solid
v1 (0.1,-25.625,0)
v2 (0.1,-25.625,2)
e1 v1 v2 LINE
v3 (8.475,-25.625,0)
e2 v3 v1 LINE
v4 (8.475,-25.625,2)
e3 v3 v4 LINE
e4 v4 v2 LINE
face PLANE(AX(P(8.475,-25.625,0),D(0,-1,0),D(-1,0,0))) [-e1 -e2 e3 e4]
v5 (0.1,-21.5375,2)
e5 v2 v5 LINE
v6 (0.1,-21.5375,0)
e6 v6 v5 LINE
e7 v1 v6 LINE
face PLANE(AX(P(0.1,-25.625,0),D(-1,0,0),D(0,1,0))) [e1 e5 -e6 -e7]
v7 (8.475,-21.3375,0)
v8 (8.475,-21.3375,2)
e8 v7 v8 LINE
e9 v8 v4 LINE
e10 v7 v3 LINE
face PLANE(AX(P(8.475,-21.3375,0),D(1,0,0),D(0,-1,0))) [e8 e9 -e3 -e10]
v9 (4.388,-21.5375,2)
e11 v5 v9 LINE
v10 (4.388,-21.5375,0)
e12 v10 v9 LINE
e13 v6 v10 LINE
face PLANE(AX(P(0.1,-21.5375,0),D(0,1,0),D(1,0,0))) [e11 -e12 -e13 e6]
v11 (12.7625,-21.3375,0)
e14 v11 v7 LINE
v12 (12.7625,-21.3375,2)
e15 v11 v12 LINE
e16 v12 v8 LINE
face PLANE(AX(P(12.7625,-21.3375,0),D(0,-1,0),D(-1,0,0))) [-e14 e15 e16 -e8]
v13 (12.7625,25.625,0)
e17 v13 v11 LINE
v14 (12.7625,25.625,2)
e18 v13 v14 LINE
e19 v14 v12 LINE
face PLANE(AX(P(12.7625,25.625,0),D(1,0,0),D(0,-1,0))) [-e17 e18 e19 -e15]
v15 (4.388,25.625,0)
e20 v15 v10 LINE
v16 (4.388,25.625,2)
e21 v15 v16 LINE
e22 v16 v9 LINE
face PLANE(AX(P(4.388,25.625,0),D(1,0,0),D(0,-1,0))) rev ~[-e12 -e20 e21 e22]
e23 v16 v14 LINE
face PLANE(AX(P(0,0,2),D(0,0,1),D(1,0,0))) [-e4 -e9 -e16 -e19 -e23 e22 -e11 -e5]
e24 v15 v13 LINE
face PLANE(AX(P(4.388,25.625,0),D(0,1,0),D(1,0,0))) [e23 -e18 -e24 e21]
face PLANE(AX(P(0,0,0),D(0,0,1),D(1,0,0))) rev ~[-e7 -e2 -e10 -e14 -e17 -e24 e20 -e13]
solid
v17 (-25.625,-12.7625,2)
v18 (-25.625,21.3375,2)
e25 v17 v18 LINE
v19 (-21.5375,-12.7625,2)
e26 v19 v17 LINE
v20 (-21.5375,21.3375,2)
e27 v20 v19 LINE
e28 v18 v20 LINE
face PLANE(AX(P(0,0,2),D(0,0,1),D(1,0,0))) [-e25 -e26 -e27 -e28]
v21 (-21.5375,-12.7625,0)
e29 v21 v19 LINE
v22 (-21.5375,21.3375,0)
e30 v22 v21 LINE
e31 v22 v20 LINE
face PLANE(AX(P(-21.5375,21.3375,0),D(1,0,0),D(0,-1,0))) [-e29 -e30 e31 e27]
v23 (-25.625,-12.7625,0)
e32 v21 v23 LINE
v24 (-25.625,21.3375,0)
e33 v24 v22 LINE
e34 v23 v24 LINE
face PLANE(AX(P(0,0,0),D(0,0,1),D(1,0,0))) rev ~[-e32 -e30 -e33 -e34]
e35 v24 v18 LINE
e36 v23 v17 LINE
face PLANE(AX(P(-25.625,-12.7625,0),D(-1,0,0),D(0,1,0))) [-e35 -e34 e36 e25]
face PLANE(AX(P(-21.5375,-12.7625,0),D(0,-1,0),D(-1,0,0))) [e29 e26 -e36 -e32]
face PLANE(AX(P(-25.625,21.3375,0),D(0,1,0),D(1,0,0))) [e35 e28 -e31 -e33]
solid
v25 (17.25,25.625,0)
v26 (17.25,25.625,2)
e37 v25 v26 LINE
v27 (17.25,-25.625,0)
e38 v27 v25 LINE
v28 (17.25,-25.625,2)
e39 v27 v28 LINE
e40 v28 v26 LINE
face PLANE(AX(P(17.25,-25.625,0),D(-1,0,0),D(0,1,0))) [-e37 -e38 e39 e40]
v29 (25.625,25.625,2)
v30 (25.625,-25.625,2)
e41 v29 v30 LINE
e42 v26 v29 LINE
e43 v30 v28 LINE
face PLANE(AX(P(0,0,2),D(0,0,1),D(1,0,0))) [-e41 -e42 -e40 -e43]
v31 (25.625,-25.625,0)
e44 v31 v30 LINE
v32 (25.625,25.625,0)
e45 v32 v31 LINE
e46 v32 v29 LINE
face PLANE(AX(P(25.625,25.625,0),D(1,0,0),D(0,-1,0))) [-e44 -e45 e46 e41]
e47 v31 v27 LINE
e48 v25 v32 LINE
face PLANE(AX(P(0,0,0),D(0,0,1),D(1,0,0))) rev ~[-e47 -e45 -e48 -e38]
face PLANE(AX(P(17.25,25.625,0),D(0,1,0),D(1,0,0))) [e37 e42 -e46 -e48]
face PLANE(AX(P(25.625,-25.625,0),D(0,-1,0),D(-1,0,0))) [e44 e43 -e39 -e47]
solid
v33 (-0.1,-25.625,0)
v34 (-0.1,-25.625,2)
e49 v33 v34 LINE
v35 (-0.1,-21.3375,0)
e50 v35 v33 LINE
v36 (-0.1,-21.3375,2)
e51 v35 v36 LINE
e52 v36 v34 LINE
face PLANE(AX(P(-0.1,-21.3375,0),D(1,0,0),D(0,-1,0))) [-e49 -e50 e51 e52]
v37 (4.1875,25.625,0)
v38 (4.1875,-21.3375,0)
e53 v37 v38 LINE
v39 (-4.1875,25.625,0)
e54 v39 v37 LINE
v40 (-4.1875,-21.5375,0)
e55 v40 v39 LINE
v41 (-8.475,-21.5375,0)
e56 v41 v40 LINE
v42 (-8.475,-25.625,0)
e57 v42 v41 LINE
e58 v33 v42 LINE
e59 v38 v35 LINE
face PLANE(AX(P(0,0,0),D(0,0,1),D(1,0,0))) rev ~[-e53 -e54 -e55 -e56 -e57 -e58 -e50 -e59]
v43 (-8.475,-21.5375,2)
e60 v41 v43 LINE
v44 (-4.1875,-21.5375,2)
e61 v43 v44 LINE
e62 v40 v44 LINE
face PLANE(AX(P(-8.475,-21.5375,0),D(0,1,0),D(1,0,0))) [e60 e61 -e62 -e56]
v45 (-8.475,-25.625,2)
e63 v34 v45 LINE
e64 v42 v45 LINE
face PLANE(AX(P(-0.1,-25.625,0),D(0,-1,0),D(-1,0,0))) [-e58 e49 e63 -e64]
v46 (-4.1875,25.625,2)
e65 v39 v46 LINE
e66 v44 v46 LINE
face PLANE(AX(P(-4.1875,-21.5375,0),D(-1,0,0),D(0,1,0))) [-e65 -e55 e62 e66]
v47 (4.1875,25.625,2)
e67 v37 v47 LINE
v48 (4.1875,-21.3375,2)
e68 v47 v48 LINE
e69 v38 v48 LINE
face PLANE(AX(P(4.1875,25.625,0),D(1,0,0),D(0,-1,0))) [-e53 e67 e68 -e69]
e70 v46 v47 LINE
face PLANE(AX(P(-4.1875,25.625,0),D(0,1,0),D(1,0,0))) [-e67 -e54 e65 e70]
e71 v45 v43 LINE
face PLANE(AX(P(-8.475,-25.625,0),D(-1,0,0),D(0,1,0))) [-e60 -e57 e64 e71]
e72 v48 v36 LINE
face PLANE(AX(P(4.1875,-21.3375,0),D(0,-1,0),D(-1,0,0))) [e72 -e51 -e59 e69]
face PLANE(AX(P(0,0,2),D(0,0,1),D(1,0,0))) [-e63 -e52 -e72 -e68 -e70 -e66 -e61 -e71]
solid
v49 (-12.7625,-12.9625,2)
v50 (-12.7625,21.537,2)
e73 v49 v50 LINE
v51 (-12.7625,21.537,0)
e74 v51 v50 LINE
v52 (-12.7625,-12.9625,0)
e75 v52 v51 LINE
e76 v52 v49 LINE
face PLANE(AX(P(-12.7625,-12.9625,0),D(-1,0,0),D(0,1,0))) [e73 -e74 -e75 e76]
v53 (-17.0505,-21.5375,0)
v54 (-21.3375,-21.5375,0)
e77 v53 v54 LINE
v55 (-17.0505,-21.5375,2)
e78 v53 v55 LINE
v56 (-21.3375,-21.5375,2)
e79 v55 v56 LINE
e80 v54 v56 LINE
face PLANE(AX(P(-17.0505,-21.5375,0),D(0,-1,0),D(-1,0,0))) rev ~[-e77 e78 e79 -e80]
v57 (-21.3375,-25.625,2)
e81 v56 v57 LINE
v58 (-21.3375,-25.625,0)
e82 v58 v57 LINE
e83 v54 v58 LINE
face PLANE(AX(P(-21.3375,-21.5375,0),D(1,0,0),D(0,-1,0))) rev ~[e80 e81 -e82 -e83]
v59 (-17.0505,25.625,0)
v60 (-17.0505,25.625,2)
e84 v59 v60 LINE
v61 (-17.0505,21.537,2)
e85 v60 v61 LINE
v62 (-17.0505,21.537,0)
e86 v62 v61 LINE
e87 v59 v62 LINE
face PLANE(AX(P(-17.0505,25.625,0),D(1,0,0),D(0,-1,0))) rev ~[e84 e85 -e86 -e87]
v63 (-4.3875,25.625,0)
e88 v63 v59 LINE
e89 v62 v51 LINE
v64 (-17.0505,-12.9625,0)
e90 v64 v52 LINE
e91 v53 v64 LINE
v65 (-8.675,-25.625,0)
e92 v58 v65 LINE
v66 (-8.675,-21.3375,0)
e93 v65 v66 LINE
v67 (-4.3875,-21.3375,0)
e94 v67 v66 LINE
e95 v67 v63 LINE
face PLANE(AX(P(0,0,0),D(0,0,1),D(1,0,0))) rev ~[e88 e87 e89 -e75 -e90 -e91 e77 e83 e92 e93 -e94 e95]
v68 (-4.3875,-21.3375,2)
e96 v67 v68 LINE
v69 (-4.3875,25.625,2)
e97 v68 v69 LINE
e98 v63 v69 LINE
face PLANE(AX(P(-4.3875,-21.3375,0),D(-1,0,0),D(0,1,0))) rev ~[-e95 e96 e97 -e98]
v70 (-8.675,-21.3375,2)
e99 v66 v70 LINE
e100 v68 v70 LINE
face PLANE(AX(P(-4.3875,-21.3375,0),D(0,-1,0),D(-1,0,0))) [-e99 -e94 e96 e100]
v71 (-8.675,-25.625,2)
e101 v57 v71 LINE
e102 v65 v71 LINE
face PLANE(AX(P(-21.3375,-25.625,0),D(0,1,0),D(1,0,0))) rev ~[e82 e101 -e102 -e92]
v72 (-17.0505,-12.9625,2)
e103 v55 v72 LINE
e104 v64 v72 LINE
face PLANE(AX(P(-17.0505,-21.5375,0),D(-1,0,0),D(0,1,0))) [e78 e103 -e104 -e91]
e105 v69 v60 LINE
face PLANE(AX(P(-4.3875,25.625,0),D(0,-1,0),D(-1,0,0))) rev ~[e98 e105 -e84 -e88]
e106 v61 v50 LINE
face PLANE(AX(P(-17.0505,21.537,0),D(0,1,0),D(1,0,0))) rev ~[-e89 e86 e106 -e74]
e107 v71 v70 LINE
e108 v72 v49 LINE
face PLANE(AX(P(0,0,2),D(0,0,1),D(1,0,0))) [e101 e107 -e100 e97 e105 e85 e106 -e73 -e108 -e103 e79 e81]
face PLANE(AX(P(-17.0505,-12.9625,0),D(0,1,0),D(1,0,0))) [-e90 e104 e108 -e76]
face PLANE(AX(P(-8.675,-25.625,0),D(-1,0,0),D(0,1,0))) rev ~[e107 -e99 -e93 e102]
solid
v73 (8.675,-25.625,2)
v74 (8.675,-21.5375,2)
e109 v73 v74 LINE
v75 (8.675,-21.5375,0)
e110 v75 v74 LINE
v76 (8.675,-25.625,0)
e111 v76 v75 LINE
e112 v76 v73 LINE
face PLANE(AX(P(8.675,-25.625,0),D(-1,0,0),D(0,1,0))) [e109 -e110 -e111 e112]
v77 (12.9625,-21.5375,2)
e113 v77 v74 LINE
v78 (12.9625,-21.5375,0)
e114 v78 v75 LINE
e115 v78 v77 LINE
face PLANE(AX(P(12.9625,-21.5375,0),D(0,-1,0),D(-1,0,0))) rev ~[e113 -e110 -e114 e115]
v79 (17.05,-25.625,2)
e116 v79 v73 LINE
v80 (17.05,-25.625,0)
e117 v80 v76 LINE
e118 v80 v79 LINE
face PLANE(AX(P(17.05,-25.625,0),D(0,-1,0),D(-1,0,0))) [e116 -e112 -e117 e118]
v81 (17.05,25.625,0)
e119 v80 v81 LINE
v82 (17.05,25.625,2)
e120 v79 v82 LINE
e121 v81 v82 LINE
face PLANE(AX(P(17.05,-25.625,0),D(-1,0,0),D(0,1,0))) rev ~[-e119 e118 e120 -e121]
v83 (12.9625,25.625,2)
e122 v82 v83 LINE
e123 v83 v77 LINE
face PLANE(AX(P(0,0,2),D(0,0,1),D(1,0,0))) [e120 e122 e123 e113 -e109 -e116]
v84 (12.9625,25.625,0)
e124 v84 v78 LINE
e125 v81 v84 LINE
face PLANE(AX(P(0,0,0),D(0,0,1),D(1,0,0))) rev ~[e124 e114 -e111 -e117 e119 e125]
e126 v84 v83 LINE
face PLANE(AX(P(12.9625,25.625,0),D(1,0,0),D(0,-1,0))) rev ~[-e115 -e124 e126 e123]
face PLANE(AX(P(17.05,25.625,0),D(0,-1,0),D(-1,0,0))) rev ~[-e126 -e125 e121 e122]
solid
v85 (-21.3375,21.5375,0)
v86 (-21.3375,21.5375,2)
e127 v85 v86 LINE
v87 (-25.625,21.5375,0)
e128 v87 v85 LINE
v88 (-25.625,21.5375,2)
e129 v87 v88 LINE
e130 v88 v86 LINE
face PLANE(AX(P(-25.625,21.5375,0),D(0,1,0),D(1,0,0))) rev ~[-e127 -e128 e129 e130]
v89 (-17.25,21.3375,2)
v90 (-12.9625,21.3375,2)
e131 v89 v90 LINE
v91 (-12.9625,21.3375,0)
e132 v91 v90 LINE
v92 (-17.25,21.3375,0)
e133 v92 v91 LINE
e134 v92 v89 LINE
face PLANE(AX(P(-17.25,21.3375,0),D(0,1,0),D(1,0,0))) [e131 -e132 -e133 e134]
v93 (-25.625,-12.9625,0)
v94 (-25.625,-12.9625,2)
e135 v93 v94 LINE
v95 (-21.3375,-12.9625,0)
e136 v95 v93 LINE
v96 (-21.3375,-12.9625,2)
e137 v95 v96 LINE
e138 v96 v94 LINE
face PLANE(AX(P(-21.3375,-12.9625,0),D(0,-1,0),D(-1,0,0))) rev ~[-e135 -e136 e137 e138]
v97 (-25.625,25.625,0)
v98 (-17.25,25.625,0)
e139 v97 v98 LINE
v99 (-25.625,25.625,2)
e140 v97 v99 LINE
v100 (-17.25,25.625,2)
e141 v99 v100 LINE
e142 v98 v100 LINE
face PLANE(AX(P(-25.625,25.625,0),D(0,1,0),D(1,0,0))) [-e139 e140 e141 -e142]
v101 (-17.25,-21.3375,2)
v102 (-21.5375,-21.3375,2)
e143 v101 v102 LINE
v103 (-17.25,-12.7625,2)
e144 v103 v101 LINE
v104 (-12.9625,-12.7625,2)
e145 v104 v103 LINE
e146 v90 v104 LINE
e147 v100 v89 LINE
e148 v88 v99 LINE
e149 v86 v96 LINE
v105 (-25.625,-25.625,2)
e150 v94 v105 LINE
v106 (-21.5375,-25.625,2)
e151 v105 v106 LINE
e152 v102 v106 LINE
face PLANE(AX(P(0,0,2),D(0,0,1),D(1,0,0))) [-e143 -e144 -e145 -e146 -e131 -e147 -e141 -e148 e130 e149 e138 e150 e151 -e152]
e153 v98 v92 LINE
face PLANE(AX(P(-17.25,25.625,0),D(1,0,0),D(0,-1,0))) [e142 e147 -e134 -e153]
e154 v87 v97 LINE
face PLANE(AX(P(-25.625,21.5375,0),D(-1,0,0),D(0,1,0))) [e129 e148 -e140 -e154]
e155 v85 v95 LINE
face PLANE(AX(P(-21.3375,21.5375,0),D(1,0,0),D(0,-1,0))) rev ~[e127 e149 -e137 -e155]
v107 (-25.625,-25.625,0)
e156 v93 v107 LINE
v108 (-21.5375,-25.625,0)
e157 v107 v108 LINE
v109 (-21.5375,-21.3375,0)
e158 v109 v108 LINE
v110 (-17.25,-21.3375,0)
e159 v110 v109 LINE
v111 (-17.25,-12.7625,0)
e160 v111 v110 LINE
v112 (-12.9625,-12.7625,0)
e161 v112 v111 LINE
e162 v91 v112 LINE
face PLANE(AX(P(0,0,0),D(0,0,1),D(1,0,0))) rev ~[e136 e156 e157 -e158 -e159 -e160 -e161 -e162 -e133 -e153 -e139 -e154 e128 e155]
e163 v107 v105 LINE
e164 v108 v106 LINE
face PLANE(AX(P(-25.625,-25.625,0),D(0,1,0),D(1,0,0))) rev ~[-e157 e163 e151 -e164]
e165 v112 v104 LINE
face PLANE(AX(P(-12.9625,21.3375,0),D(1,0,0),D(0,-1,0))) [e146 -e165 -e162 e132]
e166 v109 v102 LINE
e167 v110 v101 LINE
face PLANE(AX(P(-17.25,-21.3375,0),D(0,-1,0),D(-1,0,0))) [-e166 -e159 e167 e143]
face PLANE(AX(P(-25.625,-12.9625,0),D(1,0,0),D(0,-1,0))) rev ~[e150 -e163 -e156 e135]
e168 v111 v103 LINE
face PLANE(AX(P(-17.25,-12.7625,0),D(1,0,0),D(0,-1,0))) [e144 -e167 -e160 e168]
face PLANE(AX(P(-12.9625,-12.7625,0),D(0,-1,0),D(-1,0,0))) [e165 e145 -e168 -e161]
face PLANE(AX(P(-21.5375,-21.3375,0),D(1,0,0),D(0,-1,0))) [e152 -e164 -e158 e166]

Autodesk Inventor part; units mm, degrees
ref_plane "YZ Plane" through (0, 0, 0) normal (1, 0, 0) x (0, 1, 0)
ref_plane "XZ Plane" through (0, 0, 0) normal (0, 1, 0) x (-1, 0, 0)
sketch "construction_sketch" plane through (0, 0, 0) normal (0, 0, 1) x (1, 0, 0)
  line L0 (25.725, 25.725) -> (-25.725, 25.725) construction
  line L1 (-25.725, 25.725) -> (-25.725, -25.725) construction
  line L2 (-25.725, -25.725) -> (25.725, -25.725) construction
  line L3 (25.725, -25.725) -> (25.725, 25.725) construction
  line L4 (25.725, -25.725) -> (17.15, -25.725) construction
  line L5 (17.15, -25.725) -> (17.15, 25.725) construction
  line L6 (17.15, 25.725) -> (25.725, 25.725) construction
  line L7 (25.725, 25.725) -> (25.725, -25.725) construction
  line L8 (17.15, 25.725) -> (12.8625, 25.725) construction
  line L9 (12.8625, 25.725) -> (12.8625, -21.4375) construction
  line L10 (17.15, -25.725) -> (17.15, 25.725) construction
  line L11 (17.15, -25.725) -> (8.575, -25.725) construction
  line L12 (8.575, -25.725) -> (8.575, -21.4375) construction
  line L13 (8.575, -21.4375) -> (12.8625, -21.4375) construction
  line L14 (12.8625, 25.725) -> (4.2875, 25.725) construction
  line L15 (4.2875, 25.725) -> (4.2875, -21.4375) construction
  line L16 (8.575, -21.4375) -> (12.8625, -21.4375) construction
  line L17 (12.8625, -21.4375) -> (12.8625, 25.725) construction
  line L18 (8.575, -25.725) -> (0, -25.725) construction
  line L19 (0, -25.725) -> (0, -21.4375) construction
  line L20 (0, -21.4375) -> (4.2875, -21.4375) construction
  line L21 (8.575, -21.4375) -> (8.575, -25.725) construction
  line L22 (4.2875, 25.725) -> (4.2875, -21.4375) construction
  line L23 (0, -25.725) -> (0, -21.4375) construction
  line L24 (0, -21.4375) -> (4.2875, -21.4375) construction
  line L25 (4.2875, 25.725) -> (-4.2875, 25.725) construction
  line L26 (-4.2875, 25.725) -> (-4.2875, -21.4375) construction
  line L27 (0, -21.4375) -> (4.2875, -21.4375) construction
  line L28 (4.2875, -21.4375) -> (4.2875, 25.725) construction
  line L29 (0, -25.725) -> (-8.575, -25.725) construction
  line L30 (-8.575, -25.725) -> (-8.575, -21.4375) construction
  line L31 (-8.575, -21.4375) -> (-4.2875, -21.4375) construction
  line L32 (0, -21.4375) -> (0, -25.725) construction
  line L33 (-4.2875, 25.725) -> (-17.15, 25.725) construction
  line L34 (-17.15, 25.725) -> (-17.15, 21.4375) construction
  line L35 (-17.15, 21.4375) -> (-12.8625, 21.4375) construction
  line L36 (-4.2875, 21.4375) -> (-4.2875, 25.725) construction
  line L37 (-4.2875, -21.4375) -> (-8.575, -21.4375) construction
  line L38 (-17.15, -21.4375) -> (-17.15, -12.8625) construction
  line L39 (-17.15, -12.8625) -> (-12.8625, -12.8625) construction
  line L40 (-4.2875, -12.8625) -> (-4.2875, -21.4375) construction
  line L41 (-12.8625, -12.8625) -> (-12.8625, 21.4375) construction
  line L42 (-4.2875, 21.4375) -> (-4.2875, -12.8625) construction
  line L43 (-17.15, -21.4375) -> (-21.4375, -21.4375) construction
  line L44 (-21.4375, -21.4375) -> (-21.4375, -25.725) construction
  line L45 (-21.4375, -25.725) -> (-8.575, -25.725) construction
  line L46 (-8.575, -25.725) -> (-8.575, -21.4375) construction
  line L47 (-25.725, -12.8625) -> (-21.4375, -12.8625) construction
  line L48 (-21.4375, -12.8625) -> (-21.4375, 21.4375) construction
  line L49 (-21.4375, 21.4375) -> (-25.725, 21.4375) construction
  line L50 (-25.725, 21.4375) -> (-25.725, -12.8625) construction
  point P0 (0, 0)
sketch "construction_sketch_2" plane through (0, 0, 0) normal (0, 0, 1) x (1, 0, 0)
  line L0 (-17.15, -12.8625) -> (-12.8625, -12.8625) construction
  line L1 (25.625, 25.625) -> (25.625, -25.625) construction
  line L2 (25.625, -25.625) -> (17.25, -25.625) construction
  line L3 (17.25, -25.625) -> (17.25, 25.625) construction
  line L4 (-8.475, -25.625) -> (-8.475, -21.5375) construction
  line L5 (-8.475, -21.5375) -> (-4.1875, -21.5375) construction
  line L6 (-4.1875, -21.5375) -> (-4.1875, 25.625) construction
  line L7 (-4.1875, 25.625) -> (4.1875, 25.625) construction
  line L8 (4.1875, 25.625) -> (4.1875, -21.3375) construction
  line L9 (4.1875, -21.3375) -> (-0.1, -21.3375) construction
  line L10 (-0.1, -21.3375) -> (-0.1, -25.625) construction
  line L11 (-0.1, -25.625) -> (-8.475, -25.625) construction
  line L12 (17.25, 25.625) -> (25.625, 25.625) construction
  line L13 (4.388, 25.625) -> (12.7625, 25.625) construction
  line L14 (12.7625, 25.625) -> (12.7625, -21.3375) construction
  line L15 (12.7625, -21.3375) -> (8.475, -21.3375) construction
  line L16 (8.475, -21.3375) -> (8.475, -25.625) construction
  line L17 (8.475, -25.625) -> (0.1, -25.625) construction
  line L18 (0.1, -25.625) -> (0.1, -21.5375) construction
  line L19 (0.1, -21.5375) -> (4.388, -21.5375) construction
  line L20 (4.388, 25.625) -> (4.388, -21.5375) construction
  line L21 (17.05, -25.625) -> (17.05, 25.625) construction
  line L22 (17.05, -25.625) -> (8.675, -25.625) construction
  line L23 (8.675, -25.625) -> (8.675, -21.5375) construction
  line L24 (17.05, 25.625) -> (12.9625, 25.625) construction
  line L25 (12.9625, 25.625) -> (12.9625, -21.5375) construction
  line L26 (12.9625, -21.5375) -> (8.675, -21.5375) construction
  line L27 (-21.3375, -25.625) -> (-8.675, -25.625) construction
  line L28 (-17.0505, -21.5375) -> (-21.3375, -21.5375) construction
  line L29 (-21.3375, -21.5375) -> (-21.3375, -25.625) construction
  line L30 (-4.3875, -21.3375) -> (-8.675, -21.3375) construction
  line L31 (-4.3875, -21.3375) -> (-4.3875, 25.625) construction
  line L32 (-8.675, -25.625) -> (-8.675, -21.3375) construction
  line L33 (-4.3875, 25.625) -> (-17.0505, 25.625) construction
  line L34 (-17.0505, 25.625) -> (-17.0505, 21.537) construction
  line L35 (-17.0505, 21.537) -> (-12.7625, 21.537) construction
  line L36 (-17.0505, -21.5375) -> (-17.0505, -12.9625) construction
  line L37 (-17.0505, -12.9625) -> (-12.7625, -12.9625) construction
  line L38 (-12.7625, -12.9625) -> (-12.7625, 21.537) construction
  line L39 (-21.5375, -12.7625) -> (-25.625, -12.7625) construction
  line L40 (-25.625, -12.7625) -> (-25.625, 21.3375) construction
  line L41 (-25.625, 21.3375) -> (-21.5375, 21.3375) construction
  line L42 (-21.5375, 21.3375) -> (-21.5375, -12.7625) construction
  line L43 (-25.625, 21.5375) -> (-25.625, 25.625) construction
  line L44 (-25.625, 25.625) -> (-17.25, 25.625) construction
  line L45 (-17.25, 25.625) -> (-17.25, 21.3375) construction
  line L46 (-17.25, 21.3375) -> (-12.9625, 21.3375) construction
  line L47 (-12.9625, 21.3375) -> (-12.9625, -12.7625) construction
  line L48 (-12.9625, -12.7625) -> (-17.25, -12.7625) construction
  line L49 (-17.25, -12.7625) -> (-17.25, -21.3375) construction
  line L50 (-17.25, -21.3375) -> (-21.5375, -21.3375) construction
  line L51 (-21.5375, -21.3375) -> (-21.5375, -25.625) construction
  line L52 (-25.625, -12.9625) -> (-25.625, -25.625) construction
  line L53 (-25.625, -25.625) -> (-21.5375, -25.625) construction
  line L54 (-21.3375, -12.9625) -> (-25.625, -12.9625) construction
  line L55 (-25.625, 21.5375) -> (-21.3375, 21.5375) construction
  line L56 (-21.3375, 21.5375) -> (-21.3375, -12.9625) construction
  point P0 (0, 0)
sketch "brick_sketch_0.1mm tolerance" plane through (0, 0, 0) normal (0, 0, 1) x (1, 0, 0)
  line L0 (-17.15, -12.8625) -> (-12.8625, -12.8625) construction
  line L1 (25.625, 25.625) -> (25.625, -25.625)
  line L2 (25.625, -25.625) -> (17.25, -25.625)
  line L3 (17.25, -25.625) -> (17.25, 25.625)
  line L4 (-8.475, -25.625) -> (-8.475, -21.5375)
  line L5 (-8.475, -21.5375) -> (-4.1875, -21.5375)
  line L6 (-4.1875, -21.5375) -> (-4.1875, 25.625)
  line L7 (-4.1875, 25.625) -> (4.1875, 25.625)
  line L8 (4.1875, 25.625) -> (4.1875, -21.3375)
  line L9 (4.1875, -21.3375) -> (-0.1, -21.3375)
  line L10 (-0.1, -21.3375) -> (-0.1, -25.625)
  line L11 (-0.1, -25.625) -> (-8.475, -25.625)
  line L12 (17.25, 25.625) -> (25.625, 25.625)
  line L13 (4.388, 25.625) -> (12.7625, 25.625)
  line L14 (12.7625, 25.625) -> (12.7625, -21.3375)
  line L15 (12.7625, -21.3375) -> (8.475, -21.3375)
  line L16 (8.475, -21.3375) -> (8.475, -25.625)
  line L17 (8.475, -25.625) -> (0.1, -25.625)
  line L18 (0.1, -25.625) -> (0.1, -21.5375)
  line L19 (0.1, -21.5375) -> (4.388, -21.5375)
  line L20 (4.388, 25.625) -> (4.388, -21.5375)
  line L21 (17.05, -25.625) -> (17.05, 25.625)
  line L22 (17.05, -25.625) -> (8.675, -25.625)
  line L23 (8.675, -25.625) -> (8.675, -21.5375)
  line L24 (17.05, 25.625) -> (12.9625, 25.625)
  line L25 (12.9625, 25.625) -> (12.9625, -21.5375)
  line L26 (12.9625, -21.5375) -> (8.675, -21.5375)
  line L27 (-21.3375, -25.625) -> (-8.675, -25.625)
  line L28 (-17.0505, -21.5375) -> (-21.3375, -21.5375)
  line L29 (-21.3375, -21.5375) -> (-21.3375, -25.625)
  line L30 (-4.3875, -21.3375) -> (-8.675, -21.3375)
  line L31 (-4.3875, -21.3375) -> (-4.3875, 25.625)
  line L32 (-8.675, -25.625) -> (-8.675, -21.3375)
  line L33 (-4.3875, 25.625) -> (-17.0505, 25.625)
  line L34 (-17.0505, 25.625) -> (-17.0505, 21.537)
  line L35 (-17.0505, 21.537) -> (-12.7625, 21.537)
  line L36 (-17.0505, -21.5375) -> (-17.0505, -12.9625)
  line L37 (-17.0505, -12.9625) -> (-12.7625, -12.9625)
  line L38 (-12.7625, -12.9625) -> (-12.7625, 21.537)
  line L39 (-21.5375, -12.7625) -> (-25.625, -12.7625)
  line L40 (-25.625, -12.7625) -> (-25.625, 21.3375)
  line L41 (-25.625, 21.3375) -> (-21.5375, 21.3375)
  line L42 (-21.5375, 21.3375) -> (-21.5375, -12.7625)
  line L43 (-25.625, 21.5375) -> (-25.625, 25.625)
  line L44 (-25.625, 25.625) -> (-17.25, 25.625)
  line L45 (-17.25, 25.625) -> (-17.25, 21.3375)
  line L46 (-17.25, 21.3375) -> (-12.9625, 21.3375)
  line L47 (-12.9625, 21.3375) -> (-12.9625, -12.7625)
  line L48 (-12.9625, -12.7625) -> (-17.25, -12.7625)
  line L49 (-17.25, -12.7625) -> (-17.25, -21.3375)
  line L50 (-17.25, -21.3375) -> (-21.5375, -21.3375)
  line L51 (-21.5375, -21.3375) -> (-21.5375, -25.625)
  line L52 (-25.625, -12.9625) -> (-25.625, -25.625)
  line L53 (-25.625, -25.625) -> (-21.5375, -25.625)
  line L54 (-21.3375, -12.9625) -> (-25.625, -12.9625)
  line L55 (-25.625, 21.5375) -> (-21.3375, 21.5375)
  line L56 (-21.3375, 21.5375) -> (-21.3375, -12.9625)
  point P0 (0, 0)
  point P1 (0, 0)
ref_plane "Work Plane1" through (0, 0, 2) normal (0, 0, 1) x (1, 0, 0)
sketch "Sketch4" plane through (0, 0, 2) normal (0, 0, 1) x (1, 0, 0)
  line L0 (25.725, 25.725) -> (-25.725, 25.725) construction
  line L1 (-25.725, 25.725) -> (-25.725, -25.725) construction
  line L2 (-25.725, -25.725) -> (25.725, -25.725) construction
  line L3 (25.725, -25.725) -> (25.725, 25.725) construction
  line L4 (25.725, -25.725) -> (21.4375, -25.725)
  line L5 (21.4375, -25.725) -> (21.4375, -21.4375)
  line L6 (21.4375, -21.4375) -> (25.725, -21.4375)
  line L7 (25.725, -21.4375) -> (25.725, -25.725)
  line L8 (21.4375, -25.725) -> (17.15, -25.725)
  line L9 (17.15, -25.725) -> (17.15, -21.4375)
  line L10 (17.15, -21.4375) -> (21.4375, -21.4375)
  line L11 (21.4375, -21.4375) -> (21.4375, -25.725)
  line L12 (17.15, -25.725) -> (12.8625, -25.725)
  line L13 (12.8625, -25.725) -> (12.8625, -21.4375)
  line L14 (12.8625, -21.4375) -> (17.15, -21.4375)
  line L15 (17.15, -21.4375) -> (17.15, -25.725)
  line L16 (12.8625, -25.725) -> (8.575, -25.725)
  line L17 (8.575, -25.725) -> (8.575, -21.4375)
  line L18 (8.575, -21.4375) -> (12.8625, -21.4375)
  line L19 (12.8625, -21.4375) -> (12.8625, -25.725)
  line L20 (8.575, -25.725) -> (4.2875, -25.725)
  line L21 (4.2875, -25.725) -> (4.2875, -21.4375)
  line L22 (4.2875, -21.4375) -> (8.575, -21.4375)
  line L23 (8.575, -21.4375) -> (8.575, -25.725)
  line L24 (4.2875, -25.725) -> (0, -25.725)
  line L25 (0, -25.725) -> (0, -21.4375)
  line L26 (0, -21.4375) -> (4.2875, -21.4375)
  line L27 (4.2875, -21.4375) -> (4.2875, -25.725)
  line L28 (0, -25.725) -> (-4.2875, -25.725)
  line L29 (-4.2875, -25.725) -> (-4.2875, -21.4375)
  line L30 (-4.2875, -21.4375) -> (0, -21.4375)
  line L31 (0, -21.4375) -> (0, -25.725)
  line L32 (-4.2875, -25.725) -> (-8.575, -25.725)
  line L33 (-8.575, -25.725) -> (-8.575, -21.4375)
  line L34 (-8.575, -21.4375) -> (-4.2875, -21.4375)
  line L35 (-4.2875, -21.4375) -> (-4.2875, -25.725)
  line L36 (-8.575, -25.725) -> (-12.8625, -25.725)
  line L37 (-12.8625, -25.725) -> (-12.8625, -21.4375)
  line L38 (-12.8625, -21.4375) -> (-8.575, -21.4375)
  line L39 (-8.575, -21.4375) -> (-8.575, -25.725)
  line L40 (-12.8625, -25.725) -> (-17.15, -25.725)
  line L41 (-17.15, -25.725) -> (-17.15, -21.4375)
  line L42 (-17.15, -21.4375) -> (-12.8625, -21.4375)
  line L43 (-12.8625, -21.4375) -> (-12.8625, -25.725)
  line L44 (-17.15, -25.725) -> (-21.4375, -25.725)
  line L45 (-21.4375, -25.725) -> (-21.4375, -21.4375)
  line L46 (-21.4375, -21.4375) -> (-17.15, -21.4375)
  line L47 (-17.15, -21.4375) -> (-17.15, -25.725)
  line L48 (-21.4375, -25.725) -> (-25.725, -25.725)
  line L49 (-25.725, -25.725) -> (-25.725, -21.4375)
  line L50 (-25.725, -21.4375) -> (-21.4375, -21.4375)
  line L51 (-21.4375, -21.4375) -> (-21.4375, -25.725)
  line L52 (25.725, -21.4375) -> (21.4375, -21.4375)
  line L53 (21.4375, -21.4375) -> (21.4375, -17.15)
  line L54 (21.4375, -17.15) -> (25.725, -17.15)
  line L55 (25.725, -17.15) -> (25.725, -21.4375)
  line L56 (21.4375, -21.4375) -> (17.15, -21.4375)
  line L57 (17.15, -21.4375) -> (17.15, -17.15)
  line L58 (17.15, -17.15) -> (21.4375, -17.15)
  line L59 (21.4375, -17.15) -> (21.4375, -21.4375)
  line L60 (17.15, -21.4375) -> (12.8625, -21.4375)
  line L61 (12.8625, -21.4375) -> (12.8625, -17.15)
  line L62 (12.8625, -17.15) -> (17.15, -17.15)
  line L63 (17.15, -17.15) -> (17.15, -21.4375)
  line L64 (12.8625, -21.4375) -> (8.575, -21.4375)
  line L65 (8.575, -21.4375) -> (8.575, -17.15)
  line L66 (8.575, -17.15) -> (12.8625, -17.15)
  line L67 (12.8625, -17.15) -> (12.8625, -21.4375)
  line L68 (8.575, -21.4375) -> (4.2875, -21.4375)
  line L69 (4.2875, -21.4375) -> (4.2875, -17.15)
  line L70 (4.2875, -17.15) -> (8.575, -17.15)
  line L71 (8.575, -17.15) -> (8.575, -21.4375)
  line L72 (4.2875, -21.4375) -> (0, -21.4375)
  line L73 (0, -21.4375) -> (0, -17.15)
  line L74 (0, -17.15) -> (4.2875, -17.15)
  line L75 (4.2875, -17.15) -> (4.2875, -21.4375)
  line L76 (0, -21.4375) -> (-4.2875, -21.4375)
  line L77 (-4.2875, -21.4375) -> (-4.2875, -17.15)
  line L78 (-4.2875, -17.15) -> (0, -17.15)
  line L79 (0, -17.15) -> (0, -21.4375)
  line L80 (-4.2875, -21.4375) -> (-8.575, -21.4375)
  line L81 (-8.575, -21.4375) -> (-8.575, -17.15)
  line L82 (-8.575, -17.15) -> (-4.2875, -17.15)
  line L83 (-4.2875, -17.15) -> (-4.2875, -21.4375)
  line L84 (-8.575, -21.4375) -> (-12.8625, -21.4375)
  line L85 (-12.8625, -21.4375) -> (-12.8625, -17.15)
  line L86 (-12.8625, -17.15) -> (-8.575, -17.15)
  line L87 (-8.575, -17.15) -> (-8.575, -21.4375)
  line L88 (-12.8625, -21.4375) -> (-17.15, -21.4375)
  line L89 (-17.15, -21.4375) -> (-17.15, -17.15)
  line L90 (-17.15, -17.15) -> (-12.8625, -17.15)
  line L91 (-12.8625, -17.15) -> (-12.8625, -21.4375)
  line L92 (-17.15, -21.4375) -> (-21.4375, -21.4375)
  line L93 (-21.4375, -21.4375) -> (-21.4375, -17.15)
  line L94 (-21.4375, -17.15) -> (-17.15, -17.15)
  line L95 (-17.15, -17.15) -> (-17.15, -21.4375)
  line L96 (-21.4375, -21.4375) -> (-25.725, -21.4375)
  line L97 (-25.725, -21.4375) -> (-25.725, -17.15)
  line L98 (-25.725, -17.15) -> (-21.4375, -17.15)
  line L99 (-21.4375, -17.15) -> (-21.4375, -21.4375)
  line L100 (25.725, -17.15) -> (21.4375, -17.15)
  line L101 (21.4375, -17.15) -> (21.4375, -12.8625)
  line L102 (21.4375, -12.8625) -> (25.725, -12.8625)
  line L103 (25.725, -12.8625) -> (25.725, -17.15)
  line L104 (21.4375, -17.15) -> (17.15, -17.15)
  line L105 (17.15, -17.15) -> (17.15, -12.8625)
  line L106 (17.15, -12.8625) -> (21.4375, -12.8625)
  line L107 (21.4375, -12.8625) -> (21.4375, -17.15)
  line L108 (17.15, -17.15) -> (12.8625, -17.15)
  line L109 (12.8625, -17.15) -> (12.8625, -12.8625)
  line L110 (12.8625, -12.8625) -> (17.15, -12.8625)
  line L111 (17.15, -12.8625) -> (17.15, -17.15)
  line L112 (12.8625, -17.15) -> (8.575, -17.15)
  line L113 (8.575, -17.15) -> (8.575, -12.8625)
  line L114 (8.575, -12.8625) -> (12.8625, -12.8625)
  line L115 (12.8625, -12.8625) -> (12.8625, -17.15)
  line L116 (8.575, -17.15) -> (4.2875, -17.15)
  line L117 (4.2875, -17.15) -> (4.2875, -12.8625)
  line L118 (4.2875, -12.8625) -> (8.575, -12.8625)
  line L119 (8.575, -12.8625) -> (8.575, -17.15)
  line L120 (4.2875, -17.15) -> (0, -17.15)
  line L121 (0, -17.15) -> (0, -12.8625)
  line L122 (0, -12.8625) -> (4.2875, -12.8625)
  line L123 (4.2875, -12.8625) -> (4.2875, -17.15)
  line L124 (0, -17.15) -> (-4.2875, -17.15)
  line L125 (-4.2875, -17.15) -> (-4.2875, -12.8625)
  line L126 (-4.2875, -12.8625) -> (0, -12.8625)
  line L127 (0, -12.8625) -> (0, -17.15)
  line L128 (-4.2875, -17.15) -> (-8.575, -17.15)
  line L129 (-8.575, -17.15) -> (-8.575, -12.8625)
  line L130 (-8.575, -12.8625) -> (-4.2875, -12.8625)
  line L131 (-4.2875, -12.8625) -> (-4.2875, -17.15)
  line L132 (-8.575, -17.15) -> (-12.8625, -17.15)
  line L133 (-12.8625, -17.15) -> (-12.8625, -12.8625)
  line L134 (-12.8625, -12.8625) -> (-8.575, -12.8625)
  line L135 (-8.575, -12.8625) -> (-8.575, -17.15)
  line L136 (-12.8625, -17.15) -> (-17.15, -17.15)
  line L137 (-17.15, -17.15) -> (-17.15, -12.8625)
  line L138 (-17.15, -12.8625) -> (-12.8625, -12.8625)
  line L139 (-12.8625, -12.8625) -> (-12.8625, -17.15)
  line L140 (-17.15, -17.15) -> (-21.4375, -17.15)
  line L141 (-21.4375, -17.15) -> (-21.4375, -12.8625)
  line L142 (-21.4375, -12.8625) -> (-17.15, -12.8625)
  line L143 (-17.15, -12.8625) -> (-17.15, -17.15)
  line L144 (-21.4375, -17.15) -> (-25.725, -17.15)
  line L145 (-25.725, -17.15) -> (-25.725, -12.8625)
  line L146 (-25.725, -12.8625) -> (-21.4375, -12.8625)
  line L147 (-21.4375, -12.8625) -> (-21.4375, -17.15)
  line L148 (25.725, -12.8625) -> (21.4375, -12.8625)
  line L149 (21.4375, -12.8625) -> (21.4375, -8.575)
  line L150 (21.4375, -8.575) -> (25.725, -8.575)
  line L151 (25.725, -8.575) -> (25.725, -12.8625)
  line L152 (21.4375, -12.8625) -> (17.15, -12.8625)
  line L153 (17.15, -12.8625) -> (17.15, -8.575)
  line L154 (17.15, -8.575) -> (21.4375, -8.575)
  line L155 (21.4375, -8.575) -> (21.4375, -12.8625)
  line L156 (17.15, -12.8625) -> (12.8625, -12.8625)
  line L157 (12.8625, -12.8625) -> (12.8625, -8.575)
  line L158 (12.8625, -8.575) -> (17.15, -8.575)
  line L159 (17.15, -8.575) -> (17.15, -12.8625)
  line L160 (12.8625, -12.8625) -> (8.575, -12.8625)
  line L161 (8.575, -12.8625) -> (8.575, -8.575)
  line L162 (8.575, -8.575) -> (12.8625, -8.575)
  line L163 (12.8625, -8.575) -> (12.8625, -12.8625)
  line L164 (8.575, -12.8625) -> (4.2875, -12.8625)
  line L165 (4.2875, -12.8625) -> (4.2875, -8.575)
  line L166 (4.2875, -8.575) -> (8.575, -8.575)
  line L167 (8.575, -8.575) -> (8.575, -12.8625)
  line L168 (4.2875, -12.8625) -> (0, -12.8625)
  line L169 (0, -12.8625) -> (0, -8.575)
  line L170 (0, -8.575) -> (4.2875, -8.575)
  line L171 (4.2875, -8.575) -> (4.2875, -12.8625)
  line L172 (0, -12.8625) -> (-4.2875, -12.8625)
  line L173 (-4.2875, -12.8625) -> (-4.2875, -8.575)
  line L174 (-4.2875, -8.575) -> (0, -8.575)
  line L175 (0, -8.575) -> (0, -12.8625)
  line L176 (-4.2875, -12.8625) -> (-8.575, -12.8625)
  line L177 (-8.575, -12.8625) -> (-8.575, -8.575)
  line L178 (-8.575, -8.575) -> (-4.2875, -8.575)
  line L179 (-4.2875, -8.575) -> (-4.2875, -12.8625)
  line L180 (-8.575, -12.8625) -> (-12.8625, -12.8625)
  line L181 (-12.8625, -12.8625) -> (-12.8625, -8.575)
  line L182 (-12.8625, -8.575) -> (-8.575, -8.575)
  line L183 (-8.575, -8.575) -> (-8.575, -12.8625)
  line L184 (-12.8625, -12.8625) -> (-17.15, -12.8625)
  line L185 (-17.15, -12.8625) -> (-17.15, -8.575)
  line L186 (-17.15, -8.575) -> (-12.8625, -8.575)
  line L187 (-12.8625, -8.575) -> (-12.8625, -12.8625)
  line L188 (-17.15, -12.8625) -> (-21.4375, -12.8625)
  line L189 (-21.4375, -12.8625) -> (-21.4375, -8.575)
  line L190 (-21.4375, -8.575) -> (-17.15, -8.575)
  line L191 (-17.15, -8.575) -> (-17.15, -12.8625)
  line L192 (-21.4375, -12.8625) -> (-25.725, -12.8625)
  line L193 (-25.725, -12.8625) -> (-25.725, -8.575)
  line L194 (-25.725, -8.575) -> (-21.4375, -8.575)
  line L195 (-21.4375, -8.575) -> (-21.4375, -12.8625)
  line L196 (25.725, -8.575) -> (21.4375, -8.575)
  line L197 (21.4375, -8.575) -> (21.4375, -4.2875)
  line L198 (21.4375, -4.2875) -> (25.725, -4.2875)
  line L199 (25.725, -4.2875) -> (25.725, -8.575)
  line L200 (21.4375, -8.575) -> (17.15, -8.575)
  line L201 (17.15, -8.575) -> (17.15, -4.2875)
  line L202 (17.15, -4.2875) -> (21.4375, -4.2875)
  line L203 (21.4375, -4.2875) -> (21.4375, -8.575)
  line L204 (17.15, -8.575) -> (12.8625, -8.575)
  line L205 (12.8625, -8.575) -> (12.8625, -4.2875)
  line L206 (12.8625, -4.2875) -> (17.15, -4.2875)
  line L207 (17.15, -4.2875) -> (17.15, -8.575)
  line L208 (12.8625, -8.575) -> (8.575, -8.575)
  line L209 (8.575, -8.575) -> (8.575, -4.2875)
  line L210 (8.575, -4.2875) -> (12.8625, -4.2875)
  line L211 (12.8625, -4.2875) -> (12.8625, -8.575)
  line L212 (8.575, -8.575) -> (4.2875, -8.575)
  line L213 (4.2875, -8.575) -> (4.2875, -4.2875)
  line L214 (4.2875, -4.2875) -> (8.575, -4.2875)
  line L215 (8.575, -4.2875) -> (8.575, -8.575)
  line L216 (4.2875, -8.575) -> (0, -8.575)
  line L217 (0, -8.575) -> (0, -4.2875)
  line L218 (0, -4.2875) -> (4.2875, -4.2875)
  line L219 (4.2875, -4.2875) -> (4.2875, -8.575)
  line L220 (0, -8.575) -> (-4.2875, -8.575)
  line L221 (-4.2875, -8.575) -> (-4.2875, -4.2875)
  line L222 (-4.2875, -4.2875) -> (0, -4.2875)
  line L223 (0, -4.2875) -> (0, -8.575)
  line L224 (-4.2875, -8.575) -> (-8.575, -8.575)
  line L225 (-8.575, -8.575) -> (-8.575, -4.2875)
  line L226 (-8.575, -4.2875) -> (-4.2875, -4.2875)
  line L227 (-4.2875, -4.2875) -> (-4.2875, -8.575)
  line L228 (-8.575, -8.575) -> (-12.8625, -8.575)
  line L229 (-12.8625, -8.575) -> (-12.8625, -4.2875)
  line L230 (-12.8625, -4.2875) -> (-8.575, -4.2875)
  line L231 (-8.575, -4.2875) -> (-8.575, -8.575)
  line L232 (-12.8625, -8.575) -> (-17.15, -8.575)
  line L233 (-17.15, -8.575) -> (-17.15, -4.2875)
  line L234 (-17.15, -4.2875) -> (-12.8625, -4.2875)
  line L235 (-12.8625, -4.2875) -> (-12.8625, -8.575)
  line L236 (-17.15, -8.575) -> (-21.4375, -8.575)
  line L237 (-21.4375, -8.575) -> (-21.4375, -4.2875)
  line L238 (-21.4375, -4.2875) -> (-17.15, -4.2875)
  line L239 (-17.15, -4.2875) -> (-17.15, -8.575)
  line L240 (-21.4375, -8.575) -> (-25.725, -8.575)
  line L241 (-25.725, -8.575) -> (-25.725, -4.2875)
  line L242 (-25.725, -4.2875) -> (-21.4375, -4.2875)
  line L243 (-21.4375, -4.2875) -> (-21.4375, -8.575)
  line L244 (25.725, -4.2875) -> (21.4375, -4.2875)
  line L245 (21.4375, -4.2875) -> (21.4375, 0)
  line L246 (21.4375, 0) -> (25.725, 0)
  line L247 (25.725, 0) -> (25.725, -4.2875)
  line L248 (21.4375, -4.2875) -> (17.15, -4.2875)
  line L249 (17.15, -4.2875) -> (17.15, 0)
  line L250 (17.15, 0) -> (21.4375, 0)
  line L251 (21.4375, 0) -> (21.4375, -4.2875)
  line L252 (17.15, -4.2875) -> (12.8625, -4.2875)
  line L253 (12.8625, -4.2875) -> (12.8625, 0)
  line L254 (12.8625, 0) -> (17.15, 0)
  line L255 (17.15, 0) -> (17.15, -4.2875)
  line L256 (12.8625, -4.2875) -> (8.575, -4.2875)
  line L257 (8.575, -4.2875) -> (8.575, 0)
  line L258 (8.575, 0) -> (12.8625, 0)
  line L259 (12.8625, 0) -> (12.8625, -4.2875)
  line L260 (8.575, -4.2875) -> (4.2875, -4.2875)
  line L261 (4.2875, -4.2875) -> (4.2875, 0)
  line L262 (4.2875, 0) -> (8.575, 0)
  line L263 (8.575, 0) -> (8.575, -4.2875)
  line L264 (4.2875, -4.2875) -> (0, -4.2875)
  line L265 (0, -4.2875) -> (0, 0)
  line L266 (0, 0) -> (4.2875, 0)
  line L267 (4.2875, 0) -> (4.2875, -4.2875)
  line L268 (0, -4.2875) -> (-4.2875, -4.2875)
  line L269 (-4.2875, -4.2875) -> (-4.2875, 0)
  line L270 (-4.2875, 0) -> (0, 0)
  line L271 (0, 0) -> (0, -4.2875)
  line L272 (-4.2875, -4.2875) -> (-8.575, -4.2875)
  line L273 (-8.575, -4.2875) -> (-8.575, 0)
  line L274 (-8.575, 0) -> (-4.2875, 0)
  line L275 (-4.2875, 0) -> (-4.2875, -4.2875)
  line L276 (-8.575, -4.2875) -> (-12.8625, -4.2875)
  line L277 (-12.8625, -4.2875) -> (-12.8625, 0)
  line L278 (-12.8625, 0) -> (-8.575, 0)
  line L279 (-8.575, 0) -> (-8.575, -4.2875)
  line L280 (-12.8625, -4.2875) -> (-17.15, -4.2875)
  line L281 (-17.15, -4.2875) -> (-17.15, 0)
  line L282 (-17.15, 0) -> (-12.8625, 0)
  line L283 (-12.8625, 0) -> (-12.8625, -4.2875)
  line L284 (-17.15, -4.2875) -> (-21.4375, -4.2875)
  line L285 (-21.4375, -4.2875) -> (-21.4375, 0)
  line L286 (-21.4375, 0) -> (-17.15, 0)
  line L287 (-17.15, 0) -> (-17.15, -4.2875)
  line L288 (-21.4375, -4.2875) -> (-25.725, -4.2875)
  line L289 (-25.725, -4.2875) -> (-25.725, 0)
  line L290 (-25.725, 0) -> (-21.4375, 0)
  line L291 (-21.4375, 0) -> (-21.4375, -4.2875)
  line L292 (25.725, 0) -> (21.4375, 0)
  line L293 (21.4375, 0) -> (21.4375, 4.2875)
  line L294 (21.4375, 4.2875) -> (25.725, 4.2875)
  line L295 (25.725, 4.2875) -> (25.725, 0)
  line L296 (21.4375, 0) -> (17.15, 0)
  line L297 (17.15, 0) -> (17.15, 4.2875)
  line L298 (17.15, 4.2875) -> (21.4375, 4.2875)
  line L299 (21.4375, 4.2875) -> (21.4375, 0)
  line L300 (17.15, 0) -> (12.8625, 0)
  line L301 (12.8625, 0) -> (12.8625, 4.2875)
  line L302 (12.8625, 4.2875) -> (17.15, 4.2875)
  line L303 (17.15, 4.2875) -> (17.15, 0)
  line L304 (12.8625, 0) -> (8.575, 0)
  line L305 (8.575, 0) -> (8.575, 4.2875)
  line L306 (8.575, 4.2875) -> (12.8625, 4.2875)
  line L307 (12.8625, 4.2875) -> (12.8625, 0)
  line L308 (8.575, 0) -> (4.2875, 0)
  line L309 (4.2875, 0) -> (4.2875, 4.2875)
  line L310 (4.2875, 4.2875) -> (8.575, 4.2875)
  line L311 (8.575, 4.2875) -> (8.575, 0)
  line L312 (4.2875, 0) -> (0, 0)
  line L313 (0, 0) -> (0, 4.2875)
  line L314 (0, 4.2875) -> (4.2875, 4.2875)
  line L315 (4.2875, 4.2875) -> (4.2875, 0)
  line L316 (0, 0) -> (-4.2875, 0)
  line L317 (-4.2875, 0) -> (-4.2875, 4.2875)
  line L318 (-4.2875, 4.2875) -> (0, 4.2875)
  line L319 (0, 4.2875) -> (0, 0)
  line L320 (-4.2875, 0) -> (-8.575, 0)
  line L321 (-8.575, 0) -> (-8.575, 4.2875)
  line L322 (-8.575, 4.2875) -> (-4.2875, 4.2875)
  line L323 (-4.2875, 4.2875) -> (-4.2875, 0)
  line L324 (-8.575, 0) -> (-12.8625, 0)
  line L325 (-12.8625, 0) -> (-12.8625, 4.2875)
  line L326 (-12.8625, 4.2875) -> (-8.575, 4.2875)
  line L327 (-8.575, 4.2875) -> (-8.575, 0)
  line L328 (-12.8625, 0) -> (-17.15, 0)
  line L329 (-17.15, 0) -> (-17.15, 4.2875)
  line L330 (-17.15, 4.2875) -> (-12.8625, 4.2875)
  line L331 (-12.8625, 4.2875) -> (-12.8625, 0)
  line L332 (-17.15, 0) -> (-21.4375, 0)
  line L333 (-21.4375, 0) -> (-21.4375, 4.2875)
  line L334 (-21.4375, 4.2875) -> (-17.15, 4.2875)
  line L335 (-17.15, 4.2875) -> (-17.15, 0)
  line L336 (-21.4375, 0) -> (-25.725, 0)
  line L337 (-25.725, 0) -> (-25.725, 4.2875)
  line L338 (-25.725, 4.2875) -> (-21.4375, 4.2875)
  line L339 (-21.4375, 4.2875) -> (-21.4375, 0)
  line L340 (25.725, 4.2875) -> (21.4375, 4.2875)
  line L341 (21.4375, 4.2875) -> (21.4375, 8.575)
  line L342 (21.4375, 8.575) -> (25.725, 8.575)
  line L343 (25.725, 8.575) -> (25.725, 4.2875)
  line L344 (21.4375, 4.2875) -> (17.15, 4.2875)
  line L345 (17.15, 4.2875) -> (17.15, 8.575)
  line L346 (17.15, 8.575) -> (21.4375, 8.575)
  line L347 (21.4375, 8.575) -> (21.4375, 4.2875)
  line L348 (17.15, 4.2875) -> (12.8625, 4.2875)
  line L349 (12.8625, 4.2875) -> (12.8625, 8.575)
  line L350 (12.8625, 8.575) -> (17.15, 8.575)
  line L351 (17.15, 8.575) -> (17.15, 4.2875)
  line L352 (12.8625, 4.2875) -> (8.575, 4.2875)
  line L353 (8.575, 4.2875) -> (8.575, 8.575)
  line L354 (8.575, 8.575) -> (12.8625, 8.575)
  line L355 (12.8625, 8.575) -> (12.8625, 4.2875)
  line L356 (8.575, 4.2875) -> (4.2875, 4.2875)
  line L357 (4.2875, 4.2875) -> (4.2875, 8.575)
  line L358 (4.2875, 8.575) -> (8.575, 8.575)
  line L359 (8.575, 8.575) -> (8.575, 4.2875)
  line L360 (4.2875, 4.2875) -> (0, 4.2875)
  line L361 (0, 4.2875) -> (0, 8.575)
  line L362 (0, 8.575) -> (4.2875, 8.575)
  line L363 (4.2875, 8.575) -> (4.2875, 4.2875)
  line L364 (0, 4.2875) -> (-4.2875, 4.2875)
  line L365 (-4.2875, 4.2875) -> (-4.2875, 8.575)
  line L366 (-4.2875, 8.575) -> (0, 8.575)
  line L367 (0, 8.575) -> (0, 4.2875)
  line L368 (-4.2875, 4.2875) -> (-8.575, 4.2875)
  line L369 (-8.575, 4.2875) -> (-8.575, 8.575)
  line L370 (-8.575, 8.575) -> (-4.2875, 8.575)
  line L371 (-4.2875, 8.575) -> (-4.2875, 4.2875)
  line L372 (-8.575, 4.2875) -> (-12.8625, 4.2875)
  line L373 (-12.8625, 4.2875) -> (-12.8625, 8.575)
  line L374 (-12.8625, 8.575) -> (-8.575, 8.575)
  line L375 (-8.575, 8.575) -> (-8.575, 4.2875)
  line L376 (-12.8625, 4.2875) -> (-17.15, 4.2875)
  line L377 (-17.15, 4.2875) -> (-17.15, 8.575)
  line L378 (-17.15, 8.575) -> (-12.8625, 8.575)
  line L379 (-12.8625, 8.575) -> (-12.8625, 4.2875)
  line L380 (-17.15, 4.2875) -> (-21.4375, 4.2875)
  line L381 (-21.4375, 4.2875) -> (-21.4375, 8.575)
  line L382 (-21.4375, 8.575) -> (-17.15, 8.575)
  line L383 (-17.15, 8.575) -> (-17.15, 4.2875)
  line L384 (-21.4375, 4.2875) -> (-25.725, 4.2875)
  line L385 (-25.725, 4.2875) -> (-25.725, 8.575)
  line L386 (-25.725, 8.575) -> (-21.4375, 8.575)
  line L387 (-21.4375, 8.575) -> (-21.4375, 4.2875)
  line L388 (25.725, 8.575) -> (21.4375, 8.575)
  line L389 (21.4375, 8.575) -> (21.4375, 12.8625)
  line L390 (21.4375, 12.8625) -> (25.725, 12.8625)
  line L391 (25.725, 12.8625) -> (25.725, 8.575)
  line L392 (21.4375, 8.575) -> (17.15, 8.575)
  line L393 (17.15, 8.575) -> (17.15, 12.8625)
  line L394 (17.15, 12.8625) -> (21.4375, 12.8625)
  line L395 (21.4375, 12.8625) -> (21.4375, 8.575)
  line L396 (17.15, 8.575) -> (12.8625, 8.575)
  line L397 (12.8625, 8.575) -> (12.8625, 12.8625)
  line L398 (12.8625, 12.8625) -> (17.15, 12.8625)
  line L399 (17.15, 12.8625) -> (17.15, 8.575)
  line L400 (12.8625, 8.575) -> (8.575, 8.575)
  line L401 (8.575, 8.575) -> (8.575, 12.8625)
  line L402 (8.575, 12.8625) -> (12.8625, 12.8625)
  line L403 (12.8625, 12.8625) -> (12.8625, 8.575)
  line L404 (8.575, 8.575) -> (4.2875, 8.575)
  line L405 (4.2875, 8.575) -> (4.2875, 12.8625)
  line L406 (4.2875, 12.8625) -> (8.575, 12.8625)
  line L407 (8.575, 12.8625) -> (8.575, 8.575)
  line L408 (4.2875, 8.575) -> (0, 8.575)
  line L409 (0, 8.575) -> (0, 12.8625)
  line L410 (0, 12.8625) -> (4.2875, 12.8625)
  line L411 (4.2875, 12.8625) -> (4.2875, 8.575)
  line L412 (0, 8.575) -> (-4.2875, 8.575)
  line L413 (-4.2875, 8.575) -> (-4.2875, 12.8625)
  line L414 (-4.2875, 12.8625) -> (0, 12.8625)
  line L415 (0, 12.8625) -> (0, 8.575)
  line L416 (-4.2875, 8.575) -> (-8.575, 8.575)
  line L417 (-8.575, 8.575) -> (-8.575, 12.8625)
  line L418 (-8.575, 12.8625) -> (-4.2875, 12.8625)
  line L419 (-4.2875, 12.8625) -> (-4.2875, 8.575)
  line L420 (-8.575, 8.575) -> (-12.8625, 8.575)
  line L421 (-12.8625, 8.575) -> (-12.8625, 12.8625)
  line L422 (-12.8625, 12.8625) -> (-8.575, 12.8625)
  line L423 (-8.575, 12.8625) -> (-8.575, 8.575)
  line L424 (-12.8625, 8.575) -> (-17.15, 8.575)
  line L425 (-17.15, 8.575) -> (-17.15, 12.8625)
  line L426 (-17.15, 12.8625) -> (-12.8625, 12.8625)
  line L427 (-12.8625, 12.8625) -> (-12.8625, 8.575)
  line L428 (-17.15, 8.575) -> (-21.4375, 8.575)
  line L429 (-21.4375, 8.575) -> (-21.4375, 12.8625)
  line L430 (-21.4375, 12.8625) -> (-17.15, 12.8625)
  line L431 (-17.15, 12.8625) -> (-17.15, 8.575)
  line L432 (-21.4375, 8.575) -> (-25.725, 8.575)
  line L433 (-25.725, 8.575) -> (-25.725, 12.8625)
  line L434 (-25.725, 12.8625) -> (-21.4375, 12.8625)
  line L435 (-21.4375, 12.8625) -> (-21.4375, 8.575)
  line L436 (25.725, 12.8625) -> (21.4375, 12.8625)
  line L437 (21.4375, 12.8625) -> (21.4375, 17.15)
  line L438 (21.4375, 17.15) -> (25.725, 17.15)
  line L439 (25.725, 17.15) -> (25.725, 12.8625)
  line L440 (21.4375, 12.8625) -> (17.15, 12.8625)
  line L441 (17.15, 12.8625) -> (17.15, 17.15)
  line L442 (17.15, 17.15) -> (21.4375, 17.15)
  line L443 (21.4375, 17.15) -> (21.4375, 12.8625)
  line L444 (17.15, 12.8625) -> (12.8625, 12.8625)
  line L445 (12.8625, 12.8625) -> (12.8625, 17.15)
  line L446 (12.8625, 17.15) -> (17.15, 17.15)
  line L447 (17.15, 17.15) -> (17.15, 12.8625)
  line L448 (12.8625, 12.8625) -> (8.575, 12.8625)
  line L449 (8.575, 12.8625) -> (8.575, 17.15)
  line L450 (8.575, 17.15) -> (12.8625, 17.15)
  line L451 (12.8625, 17.15) -> (12.8625, 12.8625)
  line L452 (8.575, 12.8625) -> (4.2875, 12.8625)
  line L453 (4.2875, 12.8625) -> (4.2875, 17.15)
  line L454 (4.2875, 17.15) -> (8.575, 17.15)
  line L455 (8.575, 17.15) -> (8.575, 12.8625)
  line L456 (4.2875, 12.8625) -> (0, 12.8625)
  line L457 (0, 12.8625) -> (0, 17.15)
  line L458 (0, 17.15) -> (4.2875, 17.15)
  line L459 (4.2875, 17.15) -> (4.2875, 12.8625)
  line L460 (0, 12.8625) -> (-4.2875, 12.8625)
  line L461 (-4.2875, 12.8625) -> (-4.2875, 17.15)
  line L462 (-4.2875, 17.15) -> (0, 17.15)
  line L463 (0, 17.15) -> (0, 12.8625)
  line L464 (-4.2875, 12.8625) -> (-8.575, 12.8625)
  line L465 (-8.575, 12.8625) -> (-8.575, 17.15)
  line L466 (-8.575, 17.15) -> (-4.2875, 17.15)
  line L467 (-4.2875, 17.15) -> (-4.2875, 12.8625)
  line L468 (-8.575, 12.8625) -> (-12.8625, 12.8625)
  line L469 (-12.8625, 12.8625) -> (-12.8625, 17.15)
  line L470 (-12.8625, 17.15) -> (-8.575, 17.15)
  line L471 (-8.575, 17.15) -> (-8.575, 12.8625)
  line L472 (-12.8625, 12.8625) -> (-17.15, 12.8625)
  line L473 (-17.15, 12.8625) -> (-17.15, 17.15)
  line L474 (-17.15, 17.15) -> (-12.8625, 17.15)
  line L475 (-12.8625, 17.15) -> (-12.8625, 12.8625)
  line L476 (-17.15, 12.8625) -> (-21.4375, 12.8625)
  line L477 (-21.4375, 12.8625) -> (-21.4375, 17.15)
  line L478 (-21.4375, 17.15) -> (-17.15, 17.15)
  line L479 (-17.15, 17.15) -> (-17.15, 12.8625)
  line L480 (-21.4375, 12.8625) -> (-25.725, 12.8625)
  line L481 (-25.725, 12.8625) -> (-25.725, 17.15)
  line L482 (-25.725, 17.15) -> (-21.4375, 17.15)
  line L483 (-21.4375, 17.15) -> (-21.4375, 12.8625)
  line L484 (25.725, 17.15) -> (21.4375, 17.15)
  line L485 (21.4375, 17.15) -> (21.4375, 21.4375)
  line L486 (21.4375, 21.4375) -> (25.725, 21.4375)
  line L487 (25.725, 21.4375) -> (25.725, 17.15)
  line L488 (21.4375, 17.15) -> (17.15, 17.15)
  line L489 (17.15, 17.15) -> (17.15, 21.4375)
  line L490 (17.15, 21.4375) -> (21.4375, 21.4375)
  line L491 (21.4375, 21.4375) -> (21.4375, 17.15)
  line L492 (17.15, 17.15) -> (12.8625, 17.15)
  line L493 (12.8625, 17.15) -> (12.8625, 21.4375)
  line L494 (12.8625, 21.4375) -> (17.15, 21.4375)
  line L495 (17.15, 21.4375) -> (17.15, 17.15)
  line L496 (12.8625, 17.15) -> (8.575, 17.15)
  line L497 (8.575, 17.15) -> (8.575, 21.4375)
  line L498 (8.575, 21.4375) -> (12.8625, 21.4375)
  line L499 (12.8625, 21.4375) -> (12.8625, 17.15)
  line L500 (8.575, 17.15) -> (4.2875, 17.15)
  line L501 (4.2875, 17.15) -> (4.2875, 21.4375)
  line L502 (4.2875, 21.4375) -> (8.575, 21.4375)
  line L503 (8.575, 21.4375) -> (8.575, 17.15)
  line L504 (4.2875, 17.15) -> (0, 17.15)
  line L505 (0, 17.15) -> (0, 21.4375)
  line L506 (0, 21.4375) -> (4.2875, 21.4375)
  line L507 (4.2875, 21.4375) -> (4.2875, 17.15)
  line L508 (0, 17.15) -> (-4.2875, 17.15)
  line L509 (-4.2875, 17.15) -> (-4.2875, 21.4375)
  line L510 (-4.2875, 21.4375) -> (0, 21.4375)
  line L511 (0, 21.4375) -> (0, 17.15)
  line L512 (-4.2875, 17.15) -> (-8.575, 17.15)
  line L513 (-8.575, 17.15) -> (-8.575, 21.4375)
  line L514 (-8.575, 21.4375) -> (-4.2875, 21.4375)
  line L515 (-4.2875, 21.4375) -> (-4.2875, 17.15)
  line L516 (-8.575, 17.15) -> (-12.8625, 17.15)
  line L517 (-12.8625, 17.15) -> (-12.8625, 21.4375)
  line L518 (-12.8625, 21.4375) -> (-8.575, 21.4375)
  line L519 (-8.575, 21.4375) -> (-8.575, 17.15)
  line L520 (-12.8625, 17.15) -> (-17.15, 17.15)
  line L521 (-17.15, 17.15) -> (-17.15, 21.4375)
  line L522 (-17.15, 21.4375) -> (-12.8625, 21.4375)
  line L523 (-12.8625, 21.4375) -> (-12.8625, 17.15)
  line L524 (-17.15, 17.15) -> (-21.4375, 17.15)
  line L525 (-21.4375, 17.15) -> (-21.4375, 21.4375)
  line L526 (-21.4375, 21.4375) -> (-17.15, 21.4375)
  line L527 (-17.15, 21.4375) -> (-17.15, 17.15)
  line L528 (-21.4375, 17.15) -> (-25.725, 17.15)
  line L529 (-25.725, 17.15) -> (-25.725, 21.4375)
  line L530 (-25.725, 21.4375) -> (-21.4375, 21.4375)
  line L531 (-21.4375, 21.4375) -> (-21.4375, 17.15)
  line L532 (25.725, 21.4375) -> (21.4375, 21.4375)
  line L533 (21.4375, 21.4375) -> (21.4375, 25.725)
  line L534 (21.4375, 25.725) -> (25.725, 25.725)
  line L535 (25.725, 25.725) -> (25.725, 21.4375)
  line L536 (21.4375, 21.4375) -> (17.15, 21.4375)
  line L537 (17.15, 21.4375) -> (17.15, 25.725)
  line L538 (17.15, 25.725) -> (21.4375, 25.725)
  line L539 (21.4375, 25.725) -> (21.4375, 21.4375)
  line L540 (17.15, 21.4375) -> (12.8625, 21.4375)
  line L541 (12.8625, 21.4375) -> (12.8625, 25.725)
  line L542 (12.8625, 25.725) -> (17.15, 25.725)
  line L543 (17.15, 25.725) -> (17.15, 21.4375)
  line L544 (12.8625, 21.4375) -> (8.575, 21.4375)
  line L545 (8.575, 21.4375) -> (8.575, 25.725)
  line L546 (8.575, 25.725) -> (12.8625, 25.725)
  line L547 (12.8625, 25.725) -> (12.8625, 21.4375)
  line L548 (8.575, 21.4375) -> (4.2875, 21.4375)
  line L549 (4.2875, 21.4375) -> (4.2875, 25.725)
  line L550 (4.2875, 25.725) -> (8.575, 25.725)
  line L551 (8.575, 25.725) -> (8.575, 21.4375)
  line L552 (4.2875, 21.4375) -> (0, 21.4375)
  line L553 (0, 21.4375) -> (0, 25.725)
  line L554 (0, 25.725) -> (4.2875, 25.725)
  line L555 (4.2875, 25.725) -> (4.2875, 21.4375)
  line L556 (0, 21.4375) -> (-4.2875, 21.4375)
  line L557 (-4.2875, 21.4375) -> (-4.2875, 25.725)
  line L558 (-4.2875, 25.725) -> (0, 25.725)
  line L559 (0, 25.725) -> (0, 21.4375)
  line L560 (-4.2875, 21.4375) -> (-8.575, 21.4375)
  line L561 (-8.575, 21.4375) -> (-8.575, 25.725)
  line L562 (-8.575, 25.725) -> (-4.2875, 25.725)
  line L563 (-4.2875, 25.725) -> (-4.2875, 21.4375)
  line L564 (-8.575, 21.4375) -> (-12.8625, 21.4375)
  line L565 (-12.8625, 21.4375) -> (-12.8625, 25.725)
  line L566 (-12.8625, 25.725) -> (-8.575, 25.725)
  line L567 (-8.575, 25.725) -> (-8.575, 21.4375)
  line L568 (-12.8625, 21.4375) -> (-17.15, 21.4375)
  line L569 (-17.15, 21.4375) -> (-17.15, 25.725)
  line L570 (-17.15, 25.725) -> (-12.8625, 25.725)
  line L571 (-12.8625, 25.725) -> (-12.8625, 21.4375)
  line L572 (-17.15, 21.4375) -> (-21.4375, 21.4375)
  line L573 (-21.4375, 21.4375) -> (-21.4375, 25.725)
  line L574 (-21.4375, 25.725) -> (-17.15, 25.725)
  line L575 (-17.15, 25.725) -> (-17.15, 21.4375)
  line L576 (-21.4375, 21.4375) -> (-25.725, 21.4375)
  line L577 (-25.725, 21.4375) -> (-25.725, 25.725)
  line L578 (-25.725, 25.725) -> (-21.4375, 25.725)
  line L579 (-21.4375, 25.725) -> (-21.4375, 21.4375)
  point P0 (0, 0)
  dimension "d45" = 51.45
  dimension "d46" = 51.45
  dimension "d51" = 4.2875
  dimension "d54" = 4.2875
extrude "Segment_1" add sketch "brick_sketch_0.1mm tolerance" along normal blind 2 contours L22 L23 L26 L25 L24 L21
extrude "Segment_2" add sketch "brick_sketch_0.1mm tolerance" along normal blind 2 separate body contours L39 L40 L41 L42
extrude "Segment_3" add sketch "brick_sketch_0.1mm tolerance" along normal blind 2 separate body contours L1 L2 L3 L12
extrude "Segment_4" add sketch "brick_sketch_0.1mm tolerance" along normal blind 2 separate body contours L43 L44 L45 L46 L47 L48 L49 L50 L51 L53 L52 L54 L56 L55
extrude "Segment_5" add sketch "brick_sketch_0.1mm tolerance" along normal blind 2 separate body contours L13 L14 L15 L16 L17 L18 L19 L20
extrude "Segment_6" add sketch "brick_sketch_0.1mm tolerance" along normal blind 2 separate body contours L4 L5 L6 L7 L8 L9 L10 L11
extrude "Segment_7" add sketch "brick_sketch_0.1mm tolerance" along normal blind 2 separate body contours L29 L28 L36 L37 L38 L35 L34 L33 L31 L30 L32 L27
properties part number "reflector_sketch"
